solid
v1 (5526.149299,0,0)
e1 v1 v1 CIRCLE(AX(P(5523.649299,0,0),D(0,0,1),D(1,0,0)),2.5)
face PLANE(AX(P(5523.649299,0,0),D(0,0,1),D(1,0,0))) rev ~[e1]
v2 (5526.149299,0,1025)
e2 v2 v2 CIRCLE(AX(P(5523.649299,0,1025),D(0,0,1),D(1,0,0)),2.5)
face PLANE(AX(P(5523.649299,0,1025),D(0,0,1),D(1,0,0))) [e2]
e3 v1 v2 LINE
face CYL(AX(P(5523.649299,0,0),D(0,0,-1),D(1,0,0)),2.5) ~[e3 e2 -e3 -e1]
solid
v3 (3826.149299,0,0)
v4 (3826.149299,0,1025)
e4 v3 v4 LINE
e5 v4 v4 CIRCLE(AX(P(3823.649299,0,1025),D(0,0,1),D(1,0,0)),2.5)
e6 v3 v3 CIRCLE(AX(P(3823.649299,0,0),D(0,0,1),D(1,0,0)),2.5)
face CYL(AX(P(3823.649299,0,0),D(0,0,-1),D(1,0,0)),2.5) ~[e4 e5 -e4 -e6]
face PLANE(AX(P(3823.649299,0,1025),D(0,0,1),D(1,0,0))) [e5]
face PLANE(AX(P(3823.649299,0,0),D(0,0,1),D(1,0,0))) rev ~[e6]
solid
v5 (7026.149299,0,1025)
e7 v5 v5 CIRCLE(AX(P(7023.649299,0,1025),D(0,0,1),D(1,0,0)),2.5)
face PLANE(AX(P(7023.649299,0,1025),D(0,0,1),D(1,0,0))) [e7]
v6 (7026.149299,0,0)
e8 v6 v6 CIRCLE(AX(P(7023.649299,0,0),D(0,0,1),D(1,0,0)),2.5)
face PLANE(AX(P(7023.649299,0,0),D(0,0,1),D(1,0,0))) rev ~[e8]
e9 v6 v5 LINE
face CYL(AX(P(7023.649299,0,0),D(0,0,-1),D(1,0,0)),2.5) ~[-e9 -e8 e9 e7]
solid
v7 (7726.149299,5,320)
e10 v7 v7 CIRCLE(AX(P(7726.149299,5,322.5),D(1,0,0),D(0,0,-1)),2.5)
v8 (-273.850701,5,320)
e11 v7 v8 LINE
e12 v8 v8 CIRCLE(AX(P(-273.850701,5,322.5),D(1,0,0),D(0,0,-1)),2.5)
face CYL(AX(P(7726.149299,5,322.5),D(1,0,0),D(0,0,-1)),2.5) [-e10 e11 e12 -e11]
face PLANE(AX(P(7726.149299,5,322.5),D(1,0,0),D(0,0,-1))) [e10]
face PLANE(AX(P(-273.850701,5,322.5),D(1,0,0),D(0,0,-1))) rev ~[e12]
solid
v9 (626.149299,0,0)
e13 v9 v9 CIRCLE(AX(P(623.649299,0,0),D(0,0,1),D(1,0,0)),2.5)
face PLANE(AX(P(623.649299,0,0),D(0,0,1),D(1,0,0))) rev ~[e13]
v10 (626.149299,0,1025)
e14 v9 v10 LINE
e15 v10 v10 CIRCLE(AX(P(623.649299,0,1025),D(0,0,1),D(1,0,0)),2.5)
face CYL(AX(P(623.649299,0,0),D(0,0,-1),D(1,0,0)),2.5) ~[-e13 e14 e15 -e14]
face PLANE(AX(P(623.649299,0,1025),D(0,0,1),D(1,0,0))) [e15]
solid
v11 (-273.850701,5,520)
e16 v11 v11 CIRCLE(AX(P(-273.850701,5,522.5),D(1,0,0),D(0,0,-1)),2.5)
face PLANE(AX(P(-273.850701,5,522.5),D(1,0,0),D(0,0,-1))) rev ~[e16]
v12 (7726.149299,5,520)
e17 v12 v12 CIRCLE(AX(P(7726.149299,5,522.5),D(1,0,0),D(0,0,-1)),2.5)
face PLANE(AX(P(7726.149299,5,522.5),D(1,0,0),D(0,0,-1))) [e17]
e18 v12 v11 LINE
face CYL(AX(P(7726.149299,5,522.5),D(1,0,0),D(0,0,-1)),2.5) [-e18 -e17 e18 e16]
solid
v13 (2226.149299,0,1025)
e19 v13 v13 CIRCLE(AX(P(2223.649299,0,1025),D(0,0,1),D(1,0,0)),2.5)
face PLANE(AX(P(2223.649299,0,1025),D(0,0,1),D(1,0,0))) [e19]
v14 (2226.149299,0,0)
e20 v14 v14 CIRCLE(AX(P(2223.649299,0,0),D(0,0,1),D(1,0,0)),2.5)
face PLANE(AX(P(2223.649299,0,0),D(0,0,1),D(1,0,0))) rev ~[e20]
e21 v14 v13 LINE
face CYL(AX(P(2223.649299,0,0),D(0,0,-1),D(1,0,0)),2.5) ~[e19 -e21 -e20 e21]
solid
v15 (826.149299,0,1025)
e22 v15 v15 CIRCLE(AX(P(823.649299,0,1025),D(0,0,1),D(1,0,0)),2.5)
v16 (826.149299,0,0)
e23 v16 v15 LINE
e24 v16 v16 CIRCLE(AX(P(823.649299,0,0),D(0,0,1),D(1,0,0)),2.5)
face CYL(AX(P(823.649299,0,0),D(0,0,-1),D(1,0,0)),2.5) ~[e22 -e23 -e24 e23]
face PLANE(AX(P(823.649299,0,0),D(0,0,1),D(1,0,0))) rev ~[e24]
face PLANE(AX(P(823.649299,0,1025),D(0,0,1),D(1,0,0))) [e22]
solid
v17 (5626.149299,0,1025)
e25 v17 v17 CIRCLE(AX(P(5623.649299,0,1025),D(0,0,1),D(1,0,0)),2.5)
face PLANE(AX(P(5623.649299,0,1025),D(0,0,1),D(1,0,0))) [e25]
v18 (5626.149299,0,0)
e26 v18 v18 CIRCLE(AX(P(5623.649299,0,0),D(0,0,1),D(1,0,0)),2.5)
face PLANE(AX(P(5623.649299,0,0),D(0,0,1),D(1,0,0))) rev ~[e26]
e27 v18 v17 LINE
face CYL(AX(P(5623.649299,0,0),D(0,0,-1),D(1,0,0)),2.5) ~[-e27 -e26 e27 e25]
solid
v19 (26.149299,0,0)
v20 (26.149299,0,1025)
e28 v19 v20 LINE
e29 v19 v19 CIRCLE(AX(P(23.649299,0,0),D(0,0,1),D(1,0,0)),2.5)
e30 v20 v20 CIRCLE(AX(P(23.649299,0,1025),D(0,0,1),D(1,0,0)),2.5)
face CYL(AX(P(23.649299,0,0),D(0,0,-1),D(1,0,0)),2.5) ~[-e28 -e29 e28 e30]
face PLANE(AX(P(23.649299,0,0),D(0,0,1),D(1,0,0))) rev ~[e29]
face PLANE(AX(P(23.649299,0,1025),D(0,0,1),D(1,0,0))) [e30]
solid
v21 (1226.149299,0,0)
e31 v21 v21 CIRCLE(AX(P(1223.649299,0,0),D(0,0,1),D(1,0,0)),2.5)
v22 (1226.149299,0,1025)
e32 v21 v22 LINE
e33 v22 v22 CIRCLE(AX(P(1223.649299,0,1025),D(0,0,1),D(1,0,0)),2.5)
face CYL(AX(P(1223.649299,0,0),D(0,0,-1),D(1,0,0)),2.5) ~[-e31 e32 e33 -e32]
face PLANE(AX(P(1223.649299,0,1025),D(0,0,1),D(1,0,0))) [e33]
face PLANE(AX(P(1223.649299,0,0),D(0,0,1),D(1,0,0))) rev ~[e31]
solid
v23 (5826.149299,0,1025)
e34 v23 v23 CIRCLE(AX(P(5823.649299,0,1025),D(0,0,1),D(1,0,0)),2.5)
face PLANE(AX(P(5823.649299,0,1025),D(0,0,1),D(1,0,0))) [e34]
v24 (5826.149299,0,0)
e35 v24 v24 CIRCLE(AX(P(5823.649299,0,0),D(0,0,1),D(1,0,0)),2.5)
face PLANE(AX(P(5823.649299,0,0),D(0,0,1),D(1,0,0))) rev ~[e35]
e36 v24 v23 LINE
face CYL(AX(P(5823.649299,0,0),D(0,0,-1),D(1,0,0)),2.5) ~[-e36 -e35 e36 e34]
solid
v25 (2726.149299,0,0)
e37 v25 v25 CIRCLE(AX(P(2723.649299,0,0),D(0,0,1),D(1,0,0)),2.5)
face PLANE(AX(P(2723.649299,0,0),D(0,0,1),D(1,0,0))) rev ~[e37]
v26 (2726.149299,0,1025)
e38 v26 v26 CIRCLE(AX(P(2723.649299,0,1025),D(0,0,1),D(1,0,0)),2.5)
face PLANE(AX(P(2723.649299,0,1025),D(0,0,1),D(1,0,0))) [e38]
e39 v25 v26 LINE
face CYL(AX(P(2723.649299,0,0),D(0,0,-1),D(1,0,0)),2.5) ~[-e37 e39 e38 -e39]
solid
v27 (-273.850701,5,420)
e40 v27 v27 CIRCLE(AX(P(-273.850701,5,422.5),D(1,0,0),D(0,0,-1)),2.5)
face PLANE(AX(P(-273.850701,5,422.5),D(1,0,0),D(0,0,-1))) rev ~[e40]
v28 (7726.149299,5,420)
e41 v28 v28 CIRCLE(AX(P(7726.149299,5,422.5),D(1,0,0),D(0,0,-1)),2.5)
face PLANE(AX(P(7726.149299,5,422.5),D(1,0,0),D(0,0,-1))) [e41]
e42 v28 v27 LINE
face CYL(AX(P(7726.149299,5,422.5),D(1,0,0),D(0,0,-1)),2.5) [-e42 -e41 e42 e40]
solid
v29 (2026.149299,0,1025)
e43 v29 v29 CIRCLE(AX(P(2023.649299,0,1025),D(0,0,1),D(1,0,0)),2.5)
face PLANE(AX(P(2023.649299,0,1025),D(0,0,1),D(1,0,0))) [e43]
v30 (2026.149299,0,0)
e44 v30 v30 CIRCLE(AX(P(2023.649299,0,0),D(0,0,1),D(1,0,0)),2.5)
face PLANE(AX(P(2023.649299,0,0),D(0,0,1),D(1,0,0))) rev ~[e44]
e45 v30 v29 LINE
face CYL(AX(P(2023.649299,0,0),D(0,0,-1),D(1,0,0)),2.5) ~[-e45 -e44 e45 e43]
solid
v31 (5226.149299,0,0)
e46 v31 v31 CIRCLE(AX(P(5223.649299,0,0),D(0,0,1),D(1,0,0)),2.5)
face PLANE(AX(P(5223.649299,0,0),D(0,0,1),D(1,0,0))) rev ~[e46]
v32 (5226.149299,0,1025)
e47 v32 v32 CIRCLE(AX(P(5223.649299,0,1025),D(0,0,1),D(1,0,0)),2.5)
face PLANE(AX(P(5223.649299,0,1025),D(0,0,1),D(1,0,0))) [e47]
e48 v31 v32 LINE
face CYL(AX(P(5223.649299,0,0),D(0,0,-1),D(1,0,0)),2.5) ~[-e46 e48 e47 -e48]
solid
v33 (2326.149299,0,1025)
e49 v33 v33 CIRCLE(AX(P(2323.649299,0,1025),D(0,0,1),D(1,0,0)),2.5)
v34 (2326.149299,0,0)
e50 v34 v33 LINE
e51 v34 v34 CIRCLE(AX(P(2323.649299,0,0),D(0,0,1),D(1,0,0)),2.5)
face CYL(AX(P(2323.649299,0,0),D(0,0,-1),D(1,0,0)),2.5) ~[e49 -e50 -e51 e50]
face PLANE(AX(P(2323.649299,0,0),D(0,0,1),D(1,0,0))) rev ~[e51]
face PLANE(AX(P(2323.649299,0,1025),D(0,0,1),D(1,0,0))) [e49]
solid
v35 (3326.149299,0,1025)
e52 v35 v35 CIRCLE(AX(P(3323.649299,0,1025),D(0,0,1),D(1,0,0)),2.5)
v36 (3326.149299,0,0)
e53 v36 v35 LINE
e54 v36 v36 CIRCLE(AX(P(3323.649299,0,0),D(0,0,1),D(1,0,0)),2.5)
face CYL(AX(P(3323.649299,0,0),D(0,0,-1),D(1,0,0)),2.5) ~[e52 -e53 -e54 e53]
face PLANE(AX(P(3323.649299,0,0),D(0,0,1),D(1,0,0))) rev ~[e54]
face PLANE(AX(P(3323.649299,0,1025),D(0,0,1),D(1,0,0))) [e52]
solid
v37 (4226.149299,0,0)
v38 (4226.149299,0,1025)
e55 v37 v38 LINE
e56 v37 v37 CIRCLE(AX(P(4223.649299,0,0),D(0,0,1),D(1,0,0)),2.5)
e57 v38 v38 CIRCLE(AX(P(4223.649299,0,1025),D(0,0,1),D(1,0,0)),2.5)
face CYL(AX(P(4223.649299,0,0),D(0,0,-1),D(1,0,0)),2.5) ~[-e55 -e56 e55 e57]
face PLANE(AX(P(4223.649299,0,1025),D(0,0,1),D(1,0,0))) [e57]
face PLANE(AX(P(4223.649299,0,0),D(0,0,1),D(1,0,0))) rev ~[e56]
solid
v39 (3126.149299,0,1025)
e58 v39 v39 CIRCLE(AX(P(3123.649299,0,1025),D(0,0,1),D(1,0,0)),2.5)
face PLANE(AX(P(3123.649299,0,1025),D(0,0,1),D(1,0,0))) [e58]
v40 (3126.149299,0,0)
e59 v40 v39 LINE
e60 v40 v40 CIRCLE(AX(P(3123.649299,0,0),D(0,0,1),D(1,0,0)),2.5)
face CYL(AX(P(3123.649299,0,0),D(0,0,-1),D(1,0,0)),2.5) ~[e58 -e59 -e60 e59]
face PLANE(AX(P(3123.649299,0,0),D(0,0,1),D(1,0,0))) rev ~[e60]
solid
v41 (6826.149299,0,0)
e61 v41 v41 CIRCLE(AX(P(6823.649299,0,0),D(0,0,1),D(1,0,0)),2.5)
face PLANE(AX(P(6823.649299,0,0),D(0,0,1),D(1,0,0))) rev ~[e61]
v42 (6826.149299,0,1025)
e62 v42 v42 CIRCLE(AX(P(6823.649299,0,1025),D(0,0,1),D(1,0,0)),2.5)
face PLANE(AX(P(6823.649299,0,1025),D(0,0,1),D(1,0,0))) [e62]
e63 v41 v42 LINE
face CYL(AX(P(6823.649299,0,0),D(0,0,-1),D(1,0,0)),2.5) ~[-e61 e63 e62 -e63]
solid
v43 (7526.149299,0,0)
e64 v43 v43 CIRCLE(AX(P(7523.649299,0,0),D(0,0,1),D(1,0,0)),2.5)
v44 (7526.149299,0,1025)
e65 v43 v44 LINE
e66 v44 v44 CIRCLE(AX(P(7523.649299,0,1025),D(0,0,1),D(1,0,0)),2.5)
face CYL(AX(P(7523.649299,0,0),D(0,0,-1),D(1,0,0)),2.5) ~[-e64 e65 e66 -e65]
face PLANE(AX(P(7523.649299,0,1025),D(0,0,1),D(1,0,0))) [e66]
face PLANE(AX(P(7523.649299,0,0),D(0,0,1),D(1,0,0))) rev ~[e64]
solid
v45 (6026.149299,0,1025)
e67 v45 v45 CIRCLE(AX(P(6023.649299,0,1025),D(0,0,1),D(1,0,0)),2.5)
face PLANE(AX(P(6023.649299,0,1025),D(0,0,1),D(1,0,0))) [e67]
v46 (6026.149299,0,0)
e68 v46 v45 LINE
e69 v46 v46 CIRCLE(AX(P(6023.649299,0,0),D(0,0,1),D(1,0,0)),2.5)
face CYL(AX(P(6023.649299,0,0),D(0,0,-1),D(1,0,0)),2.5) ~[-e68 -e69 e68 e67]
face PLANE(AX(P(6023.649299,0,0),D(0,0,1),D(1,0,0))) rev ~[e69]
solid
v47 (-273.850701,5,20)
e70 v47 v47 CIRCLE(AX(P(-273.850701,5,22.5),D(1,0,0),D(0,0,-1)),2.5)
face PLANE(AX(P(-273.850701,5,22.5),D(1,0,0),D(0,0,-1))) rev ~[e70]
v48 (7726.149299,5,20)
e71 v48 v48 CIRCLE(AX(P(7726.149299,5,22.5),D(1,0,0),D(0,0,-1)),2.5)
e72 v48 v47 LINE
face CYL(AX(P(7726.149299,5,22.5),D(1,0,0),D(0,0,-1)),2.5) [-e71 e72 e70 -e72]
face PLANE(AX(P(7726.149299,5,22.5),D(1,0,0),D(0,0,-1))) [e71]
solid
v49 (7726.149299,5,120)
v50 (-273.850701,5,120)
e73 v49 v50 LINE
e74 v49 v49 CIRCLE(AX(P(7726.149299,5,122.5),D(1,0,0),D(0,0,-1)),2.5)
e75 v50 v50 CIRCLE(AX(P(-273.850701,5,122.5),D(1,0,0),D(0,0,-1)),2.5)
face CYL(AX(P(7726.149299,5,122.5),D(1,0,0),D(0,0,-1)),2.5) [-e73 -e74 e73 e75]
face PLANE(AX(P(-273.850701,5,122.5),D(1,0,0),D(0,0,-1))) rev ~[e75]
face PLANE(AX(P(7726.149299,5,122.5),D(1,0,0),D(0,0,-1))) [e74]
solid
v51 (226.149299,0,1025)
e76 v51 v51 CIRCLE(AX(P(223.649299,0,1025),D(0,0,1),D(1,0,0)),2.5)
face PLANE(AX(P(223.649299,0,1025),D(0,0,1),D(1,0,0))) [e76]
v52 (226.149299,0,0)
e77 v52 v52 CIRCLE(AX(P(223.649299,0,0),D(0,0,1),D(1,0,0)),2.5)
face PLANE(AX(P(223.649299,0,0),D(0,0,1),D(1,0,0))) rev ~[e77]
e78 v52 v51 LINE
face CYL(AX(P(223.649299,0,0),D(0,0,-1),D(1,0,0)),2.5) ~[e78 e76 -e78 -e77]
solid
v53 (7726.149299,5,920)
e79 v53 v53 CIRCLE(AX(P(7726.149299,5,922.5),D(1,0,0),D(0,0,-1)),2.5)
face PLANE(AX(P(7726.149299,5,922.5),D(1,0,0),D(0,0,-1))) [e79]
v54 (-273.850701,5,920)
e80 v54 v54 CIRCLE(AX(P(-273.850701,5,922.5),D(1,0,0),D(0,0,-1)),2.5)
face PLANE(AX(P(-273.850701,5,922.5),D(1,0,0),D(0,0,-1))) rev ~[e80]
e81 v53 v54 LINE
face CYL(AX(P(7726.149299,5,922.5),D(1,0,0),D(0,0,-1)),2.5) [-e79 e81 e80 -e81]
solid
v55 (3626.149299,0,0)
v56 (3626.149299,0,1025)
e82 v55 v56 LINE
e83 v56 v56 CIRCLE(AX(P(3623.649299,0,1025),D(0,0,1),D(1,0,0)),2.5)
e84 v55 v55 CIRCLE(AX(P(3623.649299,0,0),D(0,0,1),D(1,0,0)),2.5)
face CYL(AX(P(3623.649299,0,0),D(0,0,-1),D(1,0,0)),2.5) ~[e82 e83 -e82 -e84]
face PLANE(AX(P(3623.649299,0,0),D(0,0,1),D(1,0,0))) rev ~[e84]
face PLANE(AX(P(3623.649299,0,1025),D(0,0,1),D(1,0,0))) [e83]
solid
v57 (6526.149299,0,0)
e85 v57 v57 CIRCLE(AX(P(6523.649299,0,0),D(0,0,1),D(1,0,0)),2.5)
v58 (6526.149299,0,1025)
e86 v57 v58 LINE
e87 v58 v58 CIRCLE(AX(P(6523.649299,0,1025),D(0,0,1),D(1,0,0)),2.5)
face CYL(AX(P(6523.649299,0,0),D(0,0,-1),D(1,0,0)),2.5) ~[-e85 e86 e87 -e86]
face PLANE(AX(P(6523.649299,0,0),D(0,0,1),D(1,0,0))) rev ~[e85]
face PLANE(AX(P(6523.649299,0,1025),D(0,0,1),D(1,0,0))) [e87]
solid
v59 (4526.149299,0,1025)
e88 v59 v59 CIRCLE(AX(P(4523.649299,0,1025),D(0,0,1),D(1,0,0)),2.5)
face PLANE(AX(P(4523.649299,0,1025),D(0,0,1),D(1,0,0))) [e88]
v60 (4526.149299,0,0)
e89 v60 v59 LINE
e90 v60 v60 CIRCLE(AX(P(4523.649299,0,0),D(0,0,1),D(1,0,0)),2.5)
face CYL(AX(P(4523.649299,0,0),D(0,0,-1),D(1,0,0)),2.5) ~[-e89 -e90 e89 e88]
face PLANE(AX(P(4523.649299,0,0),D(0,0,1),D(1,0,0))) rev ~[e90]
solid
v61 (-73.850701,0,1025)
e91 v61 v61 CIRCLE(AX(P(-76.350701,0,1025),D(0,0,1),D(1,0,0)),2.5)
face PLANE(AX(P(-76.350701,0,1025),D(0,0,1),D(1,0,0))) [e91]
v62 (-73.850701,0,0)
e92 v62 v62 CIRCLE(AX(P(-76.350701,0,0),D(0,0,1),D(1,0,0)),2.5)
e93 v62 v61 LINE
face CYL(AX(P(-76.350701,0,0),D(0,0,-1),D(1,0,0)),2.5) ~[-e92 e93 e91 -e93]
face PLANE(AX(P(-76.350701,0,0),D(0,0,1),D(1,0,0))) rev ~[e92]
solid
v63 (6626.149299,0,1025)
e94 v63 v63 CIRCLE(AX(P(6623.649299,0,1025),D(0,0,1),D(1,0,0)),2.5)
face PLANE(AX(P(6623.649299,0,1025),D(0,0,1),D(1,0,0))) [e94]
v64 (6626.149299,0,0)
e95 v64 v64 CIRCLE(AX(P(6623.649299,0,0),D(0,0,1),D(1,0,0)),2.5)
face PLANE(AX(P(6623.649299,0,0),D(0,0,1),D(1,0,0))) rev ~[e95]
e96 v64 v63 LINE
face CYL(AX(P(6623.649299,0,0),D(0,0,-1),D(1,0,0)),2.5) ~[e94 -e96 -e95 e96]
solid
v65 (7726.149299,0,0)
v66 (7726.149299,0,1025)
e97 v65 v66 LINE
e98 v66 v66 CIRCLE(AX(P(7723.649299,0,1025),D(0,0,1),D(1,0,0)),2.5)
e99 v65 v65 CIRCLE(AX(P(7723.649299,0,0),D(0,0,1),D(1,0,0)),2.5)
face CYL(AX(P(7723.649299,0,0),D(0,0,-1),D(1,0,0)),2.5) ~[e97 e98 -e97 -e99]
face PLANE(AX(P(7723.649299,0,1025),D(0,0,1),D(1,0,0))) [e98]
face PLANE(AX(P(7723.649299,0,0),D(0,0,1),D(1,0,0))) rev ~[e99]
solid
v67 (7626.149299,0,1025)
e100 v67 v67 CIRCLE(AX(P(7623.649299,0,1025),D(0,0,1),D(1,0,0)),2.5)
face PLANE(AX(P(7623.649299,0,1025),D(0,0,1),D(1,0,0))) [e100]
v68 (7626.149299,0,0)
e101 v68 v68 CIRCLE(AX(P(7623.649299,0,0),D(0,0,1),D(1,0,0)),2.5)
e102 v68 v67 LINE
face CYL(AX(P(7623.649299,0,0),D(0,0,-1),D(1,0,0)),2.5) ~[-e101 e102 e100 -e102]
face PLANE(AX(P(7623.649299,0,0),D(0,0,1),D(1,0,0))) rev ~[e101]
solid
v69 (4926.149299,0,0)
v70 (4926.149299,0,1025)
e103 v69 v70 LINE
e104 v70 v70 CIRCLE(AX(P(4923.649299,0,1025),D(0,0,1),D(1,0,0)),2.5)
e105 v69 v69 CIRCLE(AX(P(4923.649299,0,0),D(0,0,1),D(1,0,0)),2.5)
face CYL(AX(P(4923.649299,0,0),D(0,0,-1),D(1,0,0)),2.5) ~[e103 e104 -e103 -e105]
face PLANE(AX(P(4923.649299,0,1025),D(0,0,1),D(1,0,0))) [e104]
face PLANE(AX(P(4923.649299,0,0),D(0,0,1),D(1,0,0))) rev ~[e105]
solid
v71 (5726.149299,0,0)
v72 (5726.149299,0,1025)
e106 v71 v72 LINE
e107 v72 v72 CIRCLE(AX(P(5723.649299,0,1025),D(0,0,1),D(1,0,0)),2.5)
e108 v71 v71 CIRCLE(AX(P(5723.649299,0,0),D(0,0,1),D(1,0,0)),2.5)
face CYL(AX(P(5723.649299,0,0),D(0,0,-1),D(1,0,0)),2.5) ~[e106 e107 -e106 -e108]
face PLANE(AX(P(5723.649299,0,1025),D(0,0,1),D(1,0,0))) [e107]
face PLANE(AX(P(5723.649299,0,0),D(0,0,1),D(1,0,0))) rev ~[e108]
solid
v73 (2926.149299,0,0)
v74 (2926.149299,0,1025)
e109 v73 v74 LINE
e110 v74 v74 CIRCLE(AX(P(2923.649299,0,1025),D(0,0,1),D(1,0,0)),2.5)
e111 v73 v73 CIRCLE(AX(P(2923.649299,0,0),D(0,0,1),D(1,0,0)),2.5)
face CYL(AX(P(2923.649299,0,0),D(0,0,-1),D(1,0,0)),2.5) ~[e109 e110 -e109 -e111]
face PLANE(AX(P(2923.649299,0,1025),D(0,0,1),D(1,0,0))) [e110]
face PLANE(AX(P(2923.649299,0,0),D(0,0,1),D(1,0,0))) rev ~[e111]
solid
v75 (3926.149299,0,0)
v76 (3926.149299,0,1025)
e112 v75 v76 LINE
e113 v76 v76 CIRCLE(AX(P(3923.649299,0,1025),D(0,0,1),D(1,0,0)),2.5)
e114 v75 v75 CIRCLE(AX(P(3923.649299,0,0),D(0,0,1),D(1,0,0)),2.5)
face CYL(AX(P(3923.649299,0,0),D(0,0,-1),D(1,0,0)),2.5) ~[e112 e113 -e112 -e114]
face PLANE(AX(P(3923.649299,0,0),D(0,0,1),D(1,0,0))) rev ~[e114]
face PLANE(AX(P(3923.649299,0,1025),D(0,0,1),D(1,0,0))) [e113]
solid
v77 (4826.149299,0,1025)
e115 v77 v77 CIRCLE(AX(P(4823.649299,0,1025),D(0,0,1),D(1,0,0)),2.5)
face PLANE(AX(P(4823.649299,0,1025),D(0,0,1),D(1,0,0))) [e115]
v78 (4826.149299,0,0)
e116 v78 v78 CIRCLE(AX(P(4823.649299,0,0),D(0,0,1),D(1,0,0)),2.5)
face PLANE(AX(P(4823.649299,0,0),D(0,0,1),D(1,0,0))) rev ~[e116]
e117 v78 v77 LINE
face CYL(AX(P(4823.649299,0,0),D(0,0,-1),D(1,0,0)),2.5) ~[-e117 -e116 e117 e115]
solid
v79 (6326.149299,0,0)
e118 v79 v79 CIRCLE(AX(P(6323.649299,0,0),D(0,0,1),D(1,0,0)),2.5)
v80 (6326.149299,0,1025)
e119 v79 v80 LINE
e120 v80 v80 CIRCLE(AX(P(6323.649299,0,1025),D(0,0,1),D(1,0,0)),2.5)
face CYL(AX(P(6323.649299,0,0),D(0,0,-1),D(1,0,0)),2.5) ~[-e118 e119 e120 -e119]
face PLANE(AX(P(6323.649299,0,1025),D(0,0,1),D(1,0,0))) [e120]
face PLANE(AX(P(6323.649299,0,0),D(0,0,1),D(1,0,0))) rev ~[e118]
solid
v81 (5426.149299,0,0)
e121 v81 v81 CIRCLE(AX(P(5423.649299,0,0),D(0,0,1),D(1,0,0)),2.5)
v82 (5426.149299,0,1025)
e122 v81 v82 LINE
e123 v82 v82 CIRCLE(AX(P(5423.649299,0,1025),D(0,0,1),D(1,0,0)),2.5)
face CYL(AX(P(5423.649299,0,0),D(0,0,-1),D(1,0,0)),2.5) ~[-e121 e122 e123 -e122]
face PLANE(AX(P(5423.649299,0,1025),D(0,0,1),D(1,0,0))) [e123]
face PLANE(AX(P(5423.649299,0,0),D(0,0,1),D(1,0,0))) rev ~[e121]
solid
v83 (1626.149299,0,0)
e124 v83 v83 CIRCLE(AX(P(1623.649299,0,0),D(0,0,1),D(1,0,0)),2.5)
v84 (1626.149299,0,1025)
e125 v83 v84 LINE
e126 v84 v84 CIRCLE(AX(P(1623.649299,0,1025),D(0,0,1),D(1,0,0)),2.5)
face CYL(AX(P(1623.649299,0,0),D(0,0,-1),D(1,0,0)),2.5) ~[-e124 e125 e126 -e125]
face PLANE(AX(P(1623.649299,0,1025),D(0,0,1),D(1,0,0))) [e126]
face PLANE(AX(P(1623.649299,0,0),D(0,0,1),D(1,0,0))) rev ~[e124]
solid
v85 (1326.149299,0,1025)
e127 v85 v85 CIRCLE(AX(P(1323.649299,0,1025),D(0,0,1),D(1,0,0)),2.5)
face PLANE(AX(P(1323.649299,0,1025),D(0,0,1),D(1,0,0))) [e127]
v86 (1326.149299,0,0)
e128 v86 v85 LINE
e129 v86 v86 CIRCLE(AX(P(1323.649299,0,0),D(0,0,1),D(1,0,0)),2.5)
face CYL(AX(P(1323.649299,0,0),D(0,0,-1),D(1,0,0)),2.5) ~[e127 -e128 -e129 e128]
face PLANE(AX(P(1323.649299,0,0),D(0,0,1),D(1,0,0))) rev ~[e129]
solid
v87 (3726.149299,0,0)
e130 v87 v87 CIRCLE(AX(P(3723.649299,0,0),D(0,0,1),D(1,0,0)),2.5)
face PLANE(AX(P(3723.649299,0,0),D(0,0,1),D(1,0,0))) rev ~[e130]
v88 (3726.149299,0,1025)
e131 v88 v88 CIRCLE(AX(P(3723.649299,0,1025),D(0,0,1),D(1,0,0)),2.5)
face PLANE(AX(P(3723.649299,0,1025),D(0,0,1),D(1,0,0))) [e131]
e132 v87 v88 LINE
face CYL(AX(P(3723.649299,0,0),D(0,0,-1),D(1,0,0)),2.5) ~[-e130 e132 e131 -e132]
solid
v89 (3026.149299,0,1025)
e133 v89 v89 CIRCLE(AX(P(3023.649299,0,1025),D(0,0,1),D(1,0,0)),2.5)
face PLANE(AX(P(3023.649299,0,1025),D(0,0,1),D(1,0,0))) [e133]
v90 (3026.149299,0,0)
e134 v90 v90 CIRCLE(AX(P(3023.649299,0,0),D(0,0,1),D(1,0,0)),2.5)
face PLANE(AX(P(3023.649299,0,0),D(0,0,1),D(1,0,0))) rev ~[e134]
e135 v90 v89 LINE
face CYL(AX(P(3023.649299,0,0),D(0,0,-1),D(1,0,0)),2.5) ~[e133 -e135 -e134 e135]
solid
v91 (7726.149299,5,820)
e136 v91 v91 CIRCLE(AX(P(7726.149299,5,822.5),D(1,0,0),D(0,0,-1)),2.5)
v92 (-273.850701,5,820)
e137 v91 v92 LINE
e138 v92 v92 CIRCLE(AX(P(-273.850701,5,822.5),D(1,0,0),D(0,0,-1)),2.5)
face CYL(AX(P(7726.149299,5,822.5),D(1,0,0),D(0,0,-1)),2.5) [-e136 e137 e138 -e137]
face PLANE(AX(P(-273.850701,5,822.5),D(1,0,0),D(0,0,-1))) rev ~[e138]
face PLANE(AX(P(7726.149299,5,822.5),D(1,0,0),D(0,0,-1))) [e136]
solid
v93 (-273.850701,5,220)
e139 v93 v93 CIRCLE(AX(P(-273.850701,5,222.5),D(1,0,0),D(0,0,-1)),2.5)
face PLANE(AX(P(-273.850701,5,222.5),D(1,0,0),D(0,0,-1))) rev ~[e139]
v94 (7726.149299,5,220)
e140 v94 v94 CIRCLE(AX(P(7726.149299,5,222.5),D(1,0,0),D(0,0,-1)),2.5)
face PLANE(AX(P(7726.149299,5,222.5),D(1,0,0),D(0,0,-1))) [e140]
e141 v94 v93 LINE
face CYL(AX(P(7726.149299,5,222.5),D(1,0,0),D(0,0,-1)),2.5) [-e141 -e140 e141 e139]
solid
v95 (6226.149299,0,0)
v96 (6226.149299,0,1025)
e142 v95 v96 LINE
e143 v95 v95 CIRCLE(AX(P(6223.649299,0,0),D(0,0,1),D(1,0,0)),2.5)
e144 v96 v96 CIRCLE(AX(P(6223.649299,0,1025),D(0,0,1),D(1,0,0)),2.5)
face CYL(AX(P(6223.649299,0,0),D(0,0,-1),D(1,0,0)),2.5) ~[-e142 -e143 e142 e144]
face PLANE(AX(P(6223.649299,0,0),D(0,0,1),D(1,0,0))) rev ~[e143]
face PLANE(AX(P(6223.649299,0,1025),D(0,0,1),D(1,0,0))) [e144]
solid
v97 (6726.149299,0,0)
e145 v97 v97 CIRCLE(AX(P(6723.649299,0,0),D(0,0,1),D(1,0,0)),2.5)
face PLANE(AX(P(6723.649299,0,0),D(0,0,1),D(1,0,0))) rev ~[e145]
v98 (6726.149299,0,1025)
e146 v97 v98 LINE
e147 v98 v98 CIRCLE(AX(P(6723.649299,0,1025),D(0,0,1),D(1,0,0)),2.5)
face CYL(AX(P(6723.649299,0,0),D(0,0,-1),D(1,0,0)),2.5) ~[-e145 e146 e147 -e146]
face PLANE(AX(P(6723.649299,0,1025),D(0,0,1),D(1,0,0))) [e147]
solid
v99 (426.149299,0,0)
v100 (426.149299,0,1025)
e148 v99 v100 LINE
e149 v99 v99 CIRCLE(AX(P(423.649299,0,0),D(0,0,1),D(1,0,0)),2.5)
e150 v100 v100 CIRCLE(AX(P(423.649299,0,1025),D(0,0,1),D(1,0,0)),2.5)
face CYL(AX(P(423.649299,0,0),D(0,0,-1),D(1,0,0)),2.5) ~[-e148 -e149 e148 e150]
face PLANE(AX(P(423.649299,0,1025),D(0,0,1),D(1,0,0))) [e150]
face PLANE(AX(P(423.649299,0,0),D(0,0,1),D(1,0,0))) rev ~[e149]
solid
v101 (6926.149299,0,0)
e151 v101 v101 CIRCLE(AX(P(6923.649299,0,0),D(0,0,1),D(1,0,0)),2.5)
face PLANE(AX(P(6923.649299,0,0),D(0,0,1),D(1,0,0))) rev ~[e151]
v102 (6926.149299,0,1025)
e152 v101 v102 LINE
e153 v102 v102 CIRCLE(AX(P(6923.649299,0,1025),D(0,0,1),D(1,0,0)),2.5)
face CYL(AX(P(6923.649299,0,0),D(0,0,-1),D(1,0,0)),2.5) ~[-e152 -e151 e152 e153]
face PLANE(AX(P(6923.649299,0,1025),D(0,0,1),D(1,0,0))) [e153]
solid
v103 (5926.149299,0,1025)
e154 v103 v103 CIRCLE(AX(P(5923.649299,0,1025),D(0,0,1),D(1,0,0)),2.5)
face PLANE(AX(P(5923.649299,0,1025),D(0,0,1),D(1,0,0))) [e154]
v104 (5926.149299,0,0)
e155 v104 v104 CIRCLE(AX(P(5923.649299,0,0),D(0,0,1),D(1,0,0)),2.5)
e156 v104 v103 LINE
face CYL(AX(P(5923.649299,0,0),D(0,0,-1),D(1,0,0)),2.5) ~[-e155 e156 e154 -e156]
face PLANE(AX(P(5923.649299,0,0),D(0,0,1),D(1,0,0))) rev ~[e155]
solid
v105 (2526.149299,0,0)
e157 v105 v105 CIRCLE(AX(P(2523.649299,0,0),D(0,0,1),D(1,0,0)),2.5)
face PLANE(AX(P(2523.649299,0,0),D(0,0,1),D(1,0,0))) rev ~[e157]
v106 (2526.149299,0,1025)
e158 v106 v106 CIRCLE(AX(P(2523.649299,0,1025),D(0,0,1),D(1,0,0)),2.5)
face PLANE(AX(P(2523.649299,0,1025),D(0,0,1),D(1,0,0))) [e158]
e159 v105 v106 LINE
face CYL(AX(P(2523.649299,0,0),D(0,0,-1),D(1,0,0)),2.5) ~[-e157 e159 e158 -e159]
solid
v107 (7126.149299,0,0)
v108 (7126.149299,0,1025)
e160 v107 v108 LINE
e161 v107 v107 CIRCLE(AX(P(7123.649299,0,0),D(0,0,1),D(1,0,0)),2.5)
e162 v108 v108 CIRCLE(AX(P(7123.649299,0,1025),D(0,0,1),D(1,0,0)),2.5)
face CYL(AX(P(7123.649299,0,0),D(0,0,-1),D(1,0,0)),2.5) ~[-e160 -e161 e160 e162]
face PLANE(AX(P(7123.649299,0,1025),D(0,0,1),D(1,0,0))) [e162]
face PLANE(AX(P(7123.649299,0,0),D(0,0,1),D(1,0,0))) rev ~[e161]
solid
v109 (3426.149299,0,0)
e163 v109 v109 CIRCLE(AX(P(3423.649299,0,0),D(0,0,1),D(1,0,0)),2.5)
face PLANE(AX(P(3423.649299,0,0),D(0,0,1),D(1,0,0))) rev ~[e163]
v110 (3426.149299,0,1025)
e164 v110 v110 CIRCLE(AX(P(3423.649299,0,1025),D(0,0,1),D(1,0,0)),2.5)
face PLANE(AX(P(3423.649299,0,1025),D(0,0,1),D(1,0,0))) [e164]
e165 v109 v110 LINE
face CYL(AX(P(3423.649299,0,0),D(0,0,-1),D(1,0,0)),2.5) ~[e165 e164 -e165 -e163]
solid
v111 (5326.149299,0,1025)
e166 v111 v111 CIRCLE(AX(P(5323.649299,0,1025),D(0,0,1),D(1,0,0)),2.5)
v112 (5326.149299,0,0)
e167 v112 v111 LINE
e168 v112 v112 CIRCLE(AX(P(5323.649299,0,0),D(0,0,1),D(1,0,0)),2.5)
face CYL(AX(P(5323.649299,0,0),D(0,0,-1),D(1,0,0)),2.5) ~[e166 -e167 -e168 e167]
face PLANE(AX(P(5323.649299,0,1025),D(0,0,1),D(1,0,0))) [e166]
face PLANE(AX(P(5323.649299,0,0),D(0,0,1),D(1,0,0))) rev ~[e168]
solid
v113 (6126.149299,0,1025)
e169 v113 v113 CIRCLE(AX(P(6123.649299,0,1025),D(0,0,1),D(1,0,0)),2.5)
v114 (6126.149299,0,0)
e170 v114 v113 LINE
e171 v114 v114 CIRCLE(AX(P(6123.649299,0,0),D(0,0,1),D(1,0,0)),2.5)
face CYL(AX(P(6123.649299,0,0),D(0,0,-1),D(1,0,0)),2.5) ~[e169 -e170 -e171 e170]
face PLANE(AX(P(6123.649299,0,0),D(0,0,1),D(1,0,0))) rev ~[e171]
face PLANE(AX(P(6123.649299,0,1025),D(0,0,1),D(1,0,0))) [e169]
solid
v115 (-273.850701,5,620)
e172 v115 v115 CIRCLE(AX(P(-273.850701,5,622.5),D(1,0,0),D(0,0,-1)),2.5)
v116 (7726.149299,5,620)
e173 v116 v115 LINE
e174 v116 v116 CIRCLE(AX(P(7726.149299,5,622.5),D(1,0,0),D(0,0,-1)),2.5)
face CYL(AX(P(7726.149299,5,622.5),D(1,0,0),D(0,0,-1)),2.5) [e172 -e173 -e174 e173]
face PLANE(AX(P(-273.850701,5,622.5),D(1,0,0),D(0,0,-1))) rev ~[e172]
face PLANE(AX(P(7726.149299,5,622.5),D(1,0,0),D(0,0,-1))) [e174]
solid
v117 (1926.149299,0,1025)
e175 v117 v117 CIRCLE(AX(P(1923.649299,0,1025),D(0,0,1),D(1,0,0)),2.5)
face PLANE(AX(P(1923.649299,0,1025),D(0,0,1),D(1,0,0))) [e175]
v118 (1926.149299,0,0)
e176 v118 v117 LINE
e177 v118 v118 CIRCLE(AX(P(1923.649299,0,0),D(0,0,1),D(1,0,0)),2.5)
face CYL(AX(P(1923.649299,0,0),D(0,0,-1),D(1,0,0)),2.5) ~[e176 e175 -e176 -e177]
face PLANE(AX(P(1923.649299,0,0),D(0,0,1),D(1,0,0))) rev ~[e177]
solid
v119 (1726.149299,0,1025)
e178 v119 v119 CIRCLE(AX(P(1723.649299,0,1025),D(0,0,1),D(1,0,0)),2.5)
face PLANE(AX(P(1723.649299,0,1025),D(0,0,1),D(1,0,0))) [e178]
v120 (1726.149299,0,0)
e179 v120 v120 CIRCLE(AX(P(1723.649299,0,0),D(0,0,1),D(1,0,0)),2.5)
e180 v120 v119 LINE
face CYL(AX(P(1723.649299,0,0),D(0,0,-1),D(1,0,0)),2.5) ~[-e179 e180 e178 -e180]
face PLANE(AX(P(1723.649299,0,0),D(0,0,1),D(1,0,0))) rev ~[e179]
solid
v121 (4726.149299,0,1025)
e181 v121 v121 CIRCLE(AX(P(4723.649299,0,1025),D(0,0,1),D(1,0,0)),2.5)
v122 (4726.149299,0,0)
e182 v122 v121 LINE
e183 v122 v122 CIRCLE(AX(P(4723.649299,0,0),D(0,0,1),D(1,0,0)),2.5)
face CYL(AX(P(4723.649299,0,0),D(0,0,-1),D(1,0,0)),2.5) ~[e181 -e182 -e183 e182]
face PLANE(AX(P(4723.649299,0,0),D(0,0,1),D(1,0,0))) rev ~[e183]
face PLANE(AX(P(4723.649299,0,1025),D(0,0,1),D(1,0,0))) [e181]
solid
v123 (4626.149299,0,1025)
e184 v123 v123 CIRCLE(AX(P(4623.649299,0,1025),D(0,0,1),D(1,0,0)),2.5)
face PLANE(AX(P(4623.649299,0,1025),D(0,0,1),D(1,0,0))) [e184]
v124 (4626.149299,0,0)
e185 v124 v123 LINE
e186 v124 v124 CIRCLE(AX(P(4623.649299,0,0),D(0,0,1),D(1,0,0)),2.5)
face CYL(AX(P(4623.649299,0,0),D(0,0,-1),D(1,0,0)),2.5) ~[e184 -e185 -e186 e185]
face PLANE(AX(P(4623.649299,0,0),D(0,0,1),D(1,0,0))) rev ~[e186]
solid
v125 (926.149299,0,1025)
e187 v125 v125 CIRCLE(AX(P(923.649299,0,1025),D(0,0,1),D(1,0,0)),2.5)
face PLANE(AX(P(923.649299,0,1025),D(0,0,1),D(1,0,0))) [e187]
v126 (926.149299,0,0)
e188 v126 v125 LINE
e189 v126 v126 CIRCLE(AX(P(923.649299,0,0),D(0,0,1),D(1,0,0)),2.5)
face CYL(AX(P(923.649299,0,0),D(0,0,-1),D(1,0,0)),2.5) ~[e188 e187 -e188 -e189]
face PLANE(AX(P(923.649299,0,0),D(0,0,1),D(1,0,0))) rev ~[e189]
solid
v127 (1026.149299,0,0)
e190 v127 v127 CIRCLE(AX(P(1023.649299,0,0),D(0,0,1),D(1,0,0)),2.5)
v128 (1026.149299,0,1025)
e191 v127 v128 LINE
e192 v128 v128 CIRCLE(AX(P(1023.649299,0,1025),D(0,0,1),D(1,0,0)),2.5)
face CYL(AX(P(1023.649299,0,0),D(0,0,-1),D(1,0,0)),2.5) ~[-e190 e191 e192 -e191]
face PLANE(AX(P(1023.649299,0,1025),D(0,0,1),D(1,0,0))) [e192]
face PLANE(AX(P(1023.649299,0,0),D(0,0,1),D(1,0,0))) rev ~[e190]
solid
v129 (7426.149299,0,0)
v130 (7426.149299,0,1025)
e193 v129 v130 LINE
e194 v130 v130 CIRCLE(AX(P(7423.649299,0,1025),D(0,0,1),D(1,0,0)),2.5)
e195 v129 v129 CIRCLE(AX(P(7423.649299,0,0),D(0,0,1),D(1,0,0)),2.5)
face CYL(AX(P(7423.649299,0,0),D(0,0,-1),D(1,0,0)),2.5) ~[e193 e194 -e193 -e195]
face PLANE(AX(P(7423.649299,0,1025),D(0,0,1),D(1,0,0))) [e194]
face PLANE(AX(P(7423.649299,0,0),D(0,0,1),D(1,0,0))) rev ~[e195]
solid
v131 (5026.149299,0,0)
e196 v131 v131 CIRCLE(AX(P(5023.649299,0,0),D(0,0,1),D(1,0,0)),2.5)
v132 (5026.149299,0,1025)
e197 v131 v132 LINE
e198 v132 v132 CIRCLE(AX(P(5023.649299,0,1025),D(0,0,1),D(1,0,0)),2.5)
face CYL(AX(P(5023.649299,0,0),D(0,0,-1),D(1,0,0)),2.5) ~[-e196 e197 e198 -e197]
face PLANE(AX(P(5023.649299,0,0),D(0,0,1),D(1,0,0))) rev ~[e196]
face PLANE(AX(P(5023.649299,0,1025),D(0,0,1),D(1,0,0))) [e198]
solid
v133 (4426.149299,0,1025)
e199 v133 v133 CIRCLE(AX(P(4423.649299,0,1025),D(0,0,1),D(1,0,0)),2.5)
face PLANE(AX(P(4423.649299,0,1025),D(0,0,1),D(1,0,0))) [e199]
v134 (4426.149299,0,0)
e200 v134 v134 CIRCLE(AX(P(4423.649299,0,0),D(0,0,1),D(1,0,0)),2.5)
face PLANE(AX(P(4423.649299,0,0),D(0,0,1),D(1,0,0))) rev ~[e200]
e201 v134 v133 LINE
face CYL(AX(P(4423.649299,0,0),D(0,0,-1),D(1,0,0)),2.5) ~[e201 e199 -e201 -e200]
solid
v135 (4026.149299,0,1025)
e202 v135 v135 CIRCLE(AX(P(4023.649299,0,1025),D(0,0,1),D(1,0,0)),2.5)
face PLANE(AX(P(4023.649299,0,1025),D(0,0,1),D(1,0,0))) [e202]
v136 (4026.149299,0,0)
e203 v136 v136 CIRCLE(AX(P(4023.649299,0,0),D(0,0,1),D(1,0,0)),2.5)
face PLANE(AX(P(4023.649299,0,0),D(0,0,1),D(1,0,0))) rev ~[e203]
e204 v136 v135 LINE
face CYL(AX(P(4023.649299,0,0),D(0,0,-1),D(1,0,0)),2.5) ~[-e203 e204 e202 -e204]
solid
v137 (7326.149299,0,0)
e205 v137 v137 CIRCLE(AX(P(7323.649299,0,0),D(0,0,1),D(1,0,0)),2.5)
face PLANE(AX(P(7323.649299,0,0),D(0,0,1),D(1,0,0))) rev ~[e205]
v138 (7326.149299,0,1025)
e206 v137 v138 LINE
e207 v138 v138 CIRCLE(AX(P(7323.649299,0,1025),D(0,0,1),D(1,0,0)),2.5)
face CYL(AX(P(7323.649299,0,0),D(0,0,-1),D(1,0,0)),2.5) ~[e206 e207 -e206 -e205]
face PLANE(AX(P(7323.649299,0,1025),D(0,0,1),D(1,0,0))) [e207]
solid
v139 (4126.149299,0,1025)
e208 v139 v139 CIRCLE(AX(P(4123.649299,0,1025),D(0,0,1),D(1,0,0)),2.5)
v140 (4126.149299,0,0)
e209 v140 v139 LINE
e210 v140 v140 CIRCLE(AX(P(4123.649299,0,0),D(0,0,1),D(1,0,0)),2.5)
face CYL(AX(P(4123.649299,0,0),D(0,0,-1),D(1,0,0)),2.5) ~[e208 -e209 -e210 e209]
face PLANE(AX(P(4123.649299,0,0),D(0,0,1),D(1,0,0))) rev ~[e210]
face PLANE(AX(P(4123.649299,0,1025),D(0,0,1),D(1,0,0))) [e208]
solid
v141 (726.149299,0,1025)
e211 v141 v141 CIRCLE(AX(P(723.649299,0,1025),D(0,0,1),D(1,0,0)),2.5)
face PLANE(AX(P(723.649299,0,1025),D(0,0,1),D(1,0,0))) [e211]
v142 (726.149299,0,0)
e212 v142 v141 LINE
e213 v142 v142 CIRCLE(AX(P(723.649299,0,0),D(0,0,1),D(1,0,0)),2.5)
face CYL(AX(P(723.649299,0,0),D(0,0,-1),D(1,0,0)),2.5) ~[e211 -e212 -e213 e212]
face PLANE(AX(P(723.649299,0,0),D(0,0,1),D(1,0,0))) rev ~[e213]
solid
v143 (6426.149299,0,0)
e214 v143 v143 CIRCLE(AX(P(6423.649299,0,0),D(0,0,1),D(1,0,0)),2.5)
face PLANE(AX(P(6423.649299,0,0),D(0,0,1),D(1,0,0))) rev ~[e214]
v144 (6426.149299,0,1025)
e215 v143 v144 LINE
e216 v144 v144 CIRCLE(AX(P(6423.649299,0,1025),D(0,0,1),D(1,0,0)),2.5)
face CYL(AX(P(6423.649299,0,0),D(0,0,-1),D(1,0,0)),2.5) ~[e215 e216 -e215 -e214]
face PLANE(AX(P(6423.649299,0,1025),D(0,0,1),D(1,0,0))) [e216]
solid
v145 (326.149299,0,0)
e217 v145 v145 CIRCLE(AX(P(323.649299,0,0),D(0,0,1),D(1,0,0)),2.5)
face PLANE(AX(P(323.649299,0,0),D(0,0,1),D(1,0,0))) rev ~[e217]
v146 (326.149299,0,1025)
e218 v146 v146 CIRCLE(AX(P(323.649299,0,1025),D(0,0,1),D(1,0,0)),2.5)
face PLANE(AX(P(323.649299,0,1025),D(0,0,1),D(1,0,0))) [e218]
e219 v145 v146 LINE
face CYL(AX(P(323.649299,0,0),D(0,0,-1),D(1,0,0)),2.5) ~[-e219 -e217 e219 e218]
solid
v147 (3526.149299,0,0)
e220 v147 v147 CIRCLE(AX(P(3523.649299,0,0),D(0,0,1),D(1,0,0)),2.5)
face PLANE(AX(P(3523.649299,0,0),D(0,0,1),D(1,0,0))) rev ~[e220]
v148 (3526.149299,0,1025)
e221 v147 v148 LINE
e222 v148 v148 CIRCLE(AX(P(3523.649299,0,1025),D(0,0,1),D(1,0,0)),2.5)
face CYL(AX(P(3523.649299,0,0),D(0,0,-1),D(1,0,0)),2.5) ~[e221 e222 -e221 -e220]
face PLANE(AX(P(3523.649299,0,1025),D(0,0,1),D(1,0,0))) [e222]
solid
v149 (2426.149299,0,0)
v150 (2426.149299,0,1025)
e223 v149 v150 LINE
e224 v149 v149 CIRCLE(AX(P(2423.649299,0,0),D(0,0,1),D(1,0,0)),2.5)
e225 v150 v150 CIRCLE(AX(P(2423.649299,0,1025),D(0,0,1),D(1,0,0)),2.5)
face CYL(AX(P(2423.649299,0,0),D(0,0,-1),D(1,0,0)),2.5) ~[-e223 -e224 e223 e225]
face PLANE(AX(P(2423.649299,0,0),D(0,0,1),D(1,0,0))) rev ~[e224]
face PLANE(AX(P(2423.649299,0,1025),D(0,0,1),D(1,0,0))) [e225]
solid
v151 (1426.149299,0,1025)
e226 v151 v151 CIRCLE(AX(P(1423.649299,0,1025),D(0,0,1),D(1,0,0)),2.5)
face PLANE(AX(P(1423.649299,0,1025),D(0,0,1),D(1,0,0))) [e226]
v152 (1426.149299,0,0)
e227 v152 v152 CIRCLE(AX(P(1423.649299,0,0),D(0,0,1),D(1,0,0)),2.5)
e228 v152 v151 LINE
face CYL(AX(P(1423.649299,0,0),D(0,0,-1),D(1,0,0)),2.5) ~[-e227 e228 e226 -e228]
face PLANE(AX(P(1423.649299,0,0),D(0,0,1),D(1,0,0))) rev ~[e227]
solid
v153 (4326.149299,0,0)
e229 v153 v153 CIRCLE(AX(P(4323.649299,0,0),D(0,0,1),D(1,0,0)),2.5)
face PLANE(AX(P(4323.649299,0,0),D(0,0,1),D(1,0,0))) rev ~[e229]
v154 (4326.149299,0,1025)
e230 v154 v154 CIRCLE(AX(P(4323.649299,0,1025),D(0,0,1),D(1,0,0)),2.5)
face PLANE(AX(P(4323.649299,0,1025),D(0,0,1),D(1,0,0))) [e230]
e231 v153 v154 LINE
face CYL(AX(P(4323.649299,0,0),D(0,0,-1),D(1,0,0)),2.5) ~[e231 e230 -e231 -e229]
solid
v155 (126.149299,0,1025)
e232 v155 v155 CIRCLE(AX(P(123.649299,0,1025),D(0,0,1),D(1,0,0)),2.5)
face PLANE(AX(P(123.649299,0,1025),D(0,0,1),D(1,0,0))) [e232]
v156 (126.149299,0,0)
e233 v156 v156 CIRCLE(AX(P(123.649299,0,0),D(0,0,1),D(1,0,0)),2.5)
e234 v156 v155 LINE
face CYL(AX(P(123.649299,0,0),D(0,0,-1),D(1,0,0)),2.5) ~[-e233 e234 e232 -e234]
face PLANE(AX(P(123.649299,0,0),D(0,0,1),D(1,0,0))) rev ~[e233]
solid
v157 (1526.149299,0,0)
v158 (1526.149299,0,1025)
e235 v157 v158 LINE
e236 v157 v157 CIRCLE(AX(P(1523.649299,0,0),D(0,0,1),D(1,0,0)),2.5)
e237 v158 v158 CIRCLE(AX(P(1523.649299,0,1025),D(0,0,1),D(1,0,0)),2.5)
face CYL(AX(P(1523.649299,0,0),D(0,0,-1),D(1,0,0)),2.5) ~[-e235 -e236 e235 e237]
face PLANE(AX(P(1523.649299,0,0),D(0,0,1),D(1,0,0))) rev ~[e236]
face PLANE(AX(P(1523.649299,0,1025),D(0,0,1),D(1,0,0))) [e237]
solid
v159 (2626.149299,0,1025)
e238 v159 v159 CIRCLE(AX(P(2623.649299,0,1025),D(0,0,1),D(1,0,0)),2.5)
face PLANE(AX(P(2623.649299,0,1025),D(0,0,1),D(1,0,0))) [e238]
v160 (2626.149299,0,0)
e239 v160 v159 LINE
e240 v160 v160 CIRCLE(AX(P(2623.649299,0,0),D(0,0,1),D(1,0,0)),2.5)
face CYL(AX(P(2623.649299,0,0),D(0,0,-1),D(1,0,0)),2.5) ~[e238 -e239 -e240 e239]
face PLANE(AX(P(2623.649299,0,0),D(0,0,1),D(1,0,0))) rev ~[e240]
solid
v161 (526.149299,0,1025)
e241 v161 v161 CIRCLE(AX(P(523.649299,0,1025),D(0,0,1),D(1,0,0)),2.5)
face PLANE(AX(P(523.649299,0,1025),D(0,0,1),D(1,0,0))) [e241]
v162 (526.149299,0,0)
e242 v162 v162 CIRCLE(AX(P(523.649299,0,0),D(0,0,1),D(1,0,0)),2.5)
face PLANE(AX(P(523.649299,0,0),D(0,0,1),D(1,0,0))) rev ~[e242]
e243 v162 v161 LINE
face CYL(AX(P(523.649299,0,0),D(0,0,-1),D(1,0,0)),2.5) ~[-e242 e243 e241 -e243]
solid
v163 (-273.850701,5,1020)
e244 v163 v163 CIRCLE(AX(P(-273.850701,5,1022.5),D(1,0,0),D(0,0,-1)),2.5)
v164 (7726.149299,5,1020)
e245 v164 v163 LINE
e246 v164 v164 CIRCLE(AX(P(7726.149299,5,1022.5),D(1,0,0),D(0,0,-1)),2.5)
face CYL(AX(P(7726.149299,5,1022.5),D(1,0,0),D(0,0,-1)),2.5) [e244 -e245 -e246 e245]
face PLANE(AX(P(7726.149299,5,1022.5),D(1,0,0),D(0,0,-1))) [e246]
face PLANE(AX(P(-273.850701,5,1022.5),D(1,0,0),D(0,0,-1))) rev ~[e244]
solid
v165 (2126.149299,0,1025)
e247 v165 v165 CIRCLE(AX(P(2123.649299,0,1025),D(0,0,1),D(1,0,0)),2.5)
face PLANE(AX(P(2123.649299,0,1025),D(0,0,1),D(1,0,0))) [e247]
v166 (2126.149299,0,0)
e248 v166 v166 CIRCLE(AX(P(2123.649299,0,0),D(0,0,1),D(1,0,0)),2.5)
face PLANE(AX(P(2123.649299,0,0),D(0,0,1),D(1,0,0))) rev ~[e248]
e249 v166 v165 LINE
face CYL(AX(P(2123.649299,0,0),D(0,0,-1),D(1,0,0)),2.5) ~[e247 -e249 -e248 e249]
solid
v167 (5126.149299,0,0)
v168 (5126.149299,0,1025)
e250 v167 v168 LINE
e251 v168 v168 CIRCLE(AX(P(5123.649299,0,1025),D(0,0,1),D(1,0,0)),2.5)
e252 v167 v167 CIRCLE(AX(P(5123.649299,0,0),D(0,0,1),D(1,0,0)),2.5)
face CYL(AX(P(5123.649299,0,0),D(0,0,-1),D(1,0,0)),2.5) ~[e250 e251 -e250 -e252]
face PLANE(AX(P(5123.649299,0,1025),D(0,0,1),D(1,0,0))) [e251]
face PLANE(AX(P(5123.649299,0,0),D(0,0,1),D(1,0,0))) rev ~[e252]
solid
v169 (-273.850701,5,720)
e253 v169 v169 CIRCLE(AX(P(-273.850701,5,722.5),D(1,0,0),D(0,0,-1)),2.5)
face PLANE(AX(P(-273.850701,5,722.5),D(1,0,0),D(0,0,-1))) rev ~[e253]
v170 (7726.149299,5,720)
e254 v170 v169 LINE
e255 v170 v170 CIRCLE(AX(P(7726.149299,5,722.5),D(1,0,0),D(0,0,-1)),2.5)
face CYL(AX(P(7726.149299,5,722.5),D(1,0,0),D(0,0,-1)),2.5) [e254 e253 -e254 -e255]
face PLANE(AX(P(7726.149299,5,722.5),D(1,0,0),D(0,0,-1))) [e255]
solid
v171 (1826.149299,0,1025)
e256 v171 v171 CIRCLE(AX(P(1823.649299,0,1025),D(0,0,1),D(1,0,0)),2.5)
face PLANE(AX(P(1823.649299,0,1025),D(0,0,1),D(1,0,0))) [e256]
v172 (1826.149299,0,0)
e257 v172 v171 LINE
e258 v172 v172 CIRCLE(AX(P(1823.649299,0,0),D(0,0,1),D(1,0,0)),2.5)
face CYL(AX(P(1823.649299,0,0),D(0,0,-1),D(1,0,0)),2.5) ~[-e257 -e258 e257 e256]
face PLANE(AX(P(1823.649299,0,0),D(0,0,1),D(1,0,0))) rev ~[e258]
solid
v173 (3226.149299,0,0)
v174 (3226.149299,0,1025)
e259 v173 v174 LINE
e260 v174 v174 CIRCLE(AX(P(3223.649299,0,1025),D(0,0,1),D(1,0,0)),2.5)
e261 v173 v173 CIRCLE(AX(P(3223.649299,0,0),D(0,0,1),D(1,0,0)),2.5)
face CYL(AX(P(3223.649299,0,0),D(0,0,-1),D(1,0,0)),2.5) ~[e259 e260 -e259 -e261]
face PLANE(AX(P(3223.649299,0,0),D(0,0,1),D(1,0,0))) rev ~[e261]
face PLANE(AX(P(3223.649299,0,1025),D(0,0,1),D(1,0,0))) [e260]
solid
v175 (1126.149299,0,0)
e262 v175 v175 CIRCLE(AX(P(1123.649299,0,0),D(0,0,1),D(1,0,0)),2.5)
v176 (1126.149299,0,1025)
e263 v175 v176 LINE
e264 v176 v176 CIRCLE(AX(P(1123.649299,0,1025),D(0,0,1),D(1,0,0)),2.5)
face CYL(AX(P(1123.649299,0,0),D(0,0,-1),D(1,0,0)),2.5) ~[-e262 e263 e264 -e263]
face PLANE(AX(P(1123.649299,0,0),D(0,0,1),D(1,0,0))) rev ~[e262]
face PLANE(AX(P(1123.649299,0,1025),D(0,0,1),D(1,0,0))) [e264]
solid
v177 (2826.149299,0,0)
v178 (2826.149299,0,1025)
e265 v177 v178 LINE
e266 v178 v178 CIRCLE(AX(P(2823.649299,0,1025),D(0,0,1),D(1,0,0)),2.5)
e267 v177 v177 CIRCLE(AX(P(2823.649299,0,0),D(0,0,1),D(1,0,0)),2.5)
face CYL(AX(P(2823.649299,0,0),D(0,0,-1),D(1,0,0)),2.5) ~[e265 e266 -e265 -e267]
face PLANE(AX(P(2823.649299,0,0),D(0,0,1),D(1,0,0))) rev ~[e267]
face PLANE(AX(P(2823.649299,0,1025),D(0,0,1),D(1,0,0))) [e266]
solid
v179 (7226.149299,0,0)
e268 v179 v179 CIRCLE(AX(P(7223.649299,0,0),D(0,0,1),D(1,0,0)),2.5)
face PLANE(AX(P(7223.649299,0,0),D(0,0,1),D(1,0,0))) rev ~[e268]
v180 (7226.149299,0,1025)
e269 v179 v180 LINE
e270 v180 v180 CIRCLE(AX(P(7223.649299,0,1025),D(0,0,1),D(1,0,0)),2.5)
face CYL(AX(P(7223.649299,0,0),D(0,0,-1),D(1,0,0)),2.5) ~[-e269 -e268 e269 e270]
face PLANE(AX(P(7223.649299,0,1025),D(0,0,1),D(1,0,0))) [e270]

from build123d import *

# Parameters (mm, degrees)
SKETCH1_R              = 2.5
BOSS_EXTRUDE1_DEPTH    = 1025
SKETCH2_R              = 2.5
BOSS_EXTRUDE2_DEPTH    = 8000
BOSS_EXTRUDE2_2_DEPTH  = 8000
BOSS_EXTRUDE2_3_DEPTH  = 8000
BOSS_EXTRUDE2_4_DEPTH  = 8000
BOSS_EXTRUDE2_5_DEPTH  = 8000
BOSS_EXTRUDE2_6_DEPTH  = 8000
BOSS_EXTRUDE2_7_DEPTH  = 8000
BOSS_EXTRUDE2_8_DEPTH  = 8000
BOSS_EXTRUDE2_9_DEPTH  = 8000
BOSS_EXTRUDE2_10_DEPTH = 8000
BOSS_EXTRUDE2_11_DEPTH = 8000


with BuildPart() as part:
    # Sketch1 → Boss-Extrude1 (new body)
    with BuildSketch(Plane.XY):
        with Locations((-76.350701064, 0)):
            Circle(SKETCH1_R)
        with Locations((23.649298936, 0)):
            Circle(SKETCH1_R)
        with Locations((123.649298936, 0)):
            Circle(SKETCH1_R)
        with Locations((223.649298936, 0)):
            Circle(SKETCH1_R)
        with Locations((323.649298936, 0)):
            Circle(SKETCH1_R)
        with Locations((423.649298936, 0)):
            Circle(SKETCH1_R)
        with Locations((523.649298936, 0)):
            Circle(SKETCH1_R)
        with Locations((623.649298936, 0)):
            Circle(SKETCH1_R)
        with Locations((723.649298936, 0)):
            Circle(SKETCH1_R)
        with Locations((823.649298936, 0)):
            Circle(SKETCH1_R)
        with Locations((923.649298936, 0)):
            Circle(SKETCH1_R)
        with Locations((1023.649298936, 0)):
            Circle(SKETCH1_R)
        with Locations((1123.649298936, 0)):
            Circle(SKETCH1_R)
        with Locations((1223.649298936, 0)):
            Circle(SKETCH1_R)
        with Locations((1323.649298936, 0)):
            Circle(SKETCH1_R)
        with Locations((1423.649298936, 0)):
            Circle(SKETCH1_R)
        with Locations((1523.649298936, 0)):
            Circle(SKETCH1_R)
        with Locations((1623.649298936, 0)):
            Circle(SKETCH1_R)
        with Locations((1723.649298936, 0)):
            Circle(SKETCH1_R)
        with Locations((1823.649298936, 0)):
            Circle(SKETCH1_R)
        with Locations((1923.649298936, 0)):
            Circle(SKETCH1_R)
        with Locations((2023.649298936, 0)):
            Circle(SKETCH1_R)
        with Locations((2123.649298936, 0)):
            Circle(SKETCH1_R)
        with Locations((2223.649298936, 0)):
            Circle(SKETCH1_R)
        with Locations((2323.649298936, 0)):
            Circle(SKETCH1_R)
        with Locations((2423.649298936, 0)):
            Circle(SKETCH1_R)
        with Locations((2523.649298936, 0)):
            Circle(SKETCH1_R)
        with Locations((2623.649298936, 0)):
            Circle(SKETCH1_R)
        with Locations((2723.649298936, 0)):
            Circle(SKETCH1_R)
        with Locations((2823.649298936, 0)):
            Circle(SKETCH1_R)
        with Locations((2923.649298936, 0)):
            Circle(SKETCH1_R)
        with Locations((3023.649298936, 0)):
            Circle(SKETCH1_R)
        with Locations((3123.649298936, 0)):
            Circle(SKETCH1_R)
        with Locations((3223.649298936, 0)):
            Circle(SKETCH1_R)
        with Locations((3323.649298936, 0)):
            Circle(SKETCH1_R)
        with Locations((3423.649298936, 0)):
            Circle(SKETCH1_R)
        with Locations((3523.649298936, 0)):
            Circle(SKETCH1_R)
        with Locations((3623.649298936, 0)):
            Circle(SKETCH1_R)
        with Locations((3723.649298936, 0)):
            Circle(SKETCH1_R)
        with Locations((3823.649298936, 0)):
            Circle(SKETCH1_R)
        with Locations((3923.649298936, 0)):
            Circle(SKETCH1_R)
        with Locations((4023.649298936, 0)):
            Circle(SKETCH1_R)
        with Locations((4123.649298936, 0)):
            Circle(SKETCH1_R)
        with Locations((4223.649298936, 0)):
            Circle(SKETCH1_R)
        with Locations((4323.649298936, 0)):
            Circle(SKETCH1_R)
        with Locations((4423.649298936, 0)):
            Circle(SKETCH1_R)
        with Locations((4523.649298936, 0)):
            Circle(SKETCH1_R)
        with Locations((4623.649298936, 0)):
            Circle(SKETCH1_R)
        with Locations((4723.649298936, 0)):
            Circle(SKETCH1_R)
        with Locations((4823.649298936, 0)):
            Circle(SKETCH1_R)
        with Locations((4923.649298936, 0)):
            Circle(SKETCH1_R)
        with Locations((5023.649298936, 0)):
            Circle(SKETCH1_R)
        with Locations((5123.649298936, 0)):
            Circle(SKETCH1_R)
        with Locations((5223.649298936, 0)):
            Circle(SKETCH1_R)
        with Locations((5323.649298936, 0)):
            Circle(SKETCH1_R)
        with Locations((5423.649298936, 0)):
            Circle(SKETCH1_R)
        with Locations((5523.649298936, 0)):
            Circle(SKETCH1_R)
        with Locations((5623.649298936, 0)):
            Circle(SKETCH1_R)
        with Locations((5723.649298936, 0)):
            Circle(SKETCH1_R)
        with Locations((5823.649298936, 0)):
            Circle(SKETCH1_R)
        with Locations((5923.649298936, 0)):
            Circle(SKETCH1_R)
        with Locations((6023.649298936, 0)):
            Circle(SKETCH1_R)
        with Locations((6123.649298936, 0)):
            Circle(SKETCH1_R)
        with Locations((6223.649298936, 0)):
            Circle(SKETCH1_R)
        with Locations((6323.649298936, 0)):
            Circle(SKETCH1_R)
        with Locations((6423.649298936, 0)):
            Circle(SKETCH1_R)
        with Locations((6523.649298936, 0)):
            Circle(SKETCH1_R)
        with Locations((6623.649298936, 0)):
            Circle(SKETCH1_R)
        with Locations((6723.649298936, 0)):
            Circle(SKETCH1_R)
        with Locations((6823.649298936, 0)):
            Circle(SKETCH1_R)
        with Locations((6923.649298936, 0)):
            Circle(SKETCH1_R)
        with Locations((7023.649298936, 0)):
            Circle(SKETCH1_R)
        with Locations((7123.649298936, 0)):
            Circle(SKETCH1_R)
        with Locations((7223.649298936, 0)):
            Circle(SKETCH1_R)
        with Locations((7323.649298936, 0)):
            Circle(SKETCH1_R)
        with Locations((7423.649298936, 0)):
            Circle(SKETCH1_R)
        with Locations((7523.649298936, 0)):
            Circle(SKETCH1_R)
        with Locations((7623.649298936, 0)):
            Circle(SKETCH1_R)
        with Locations((7723.649298936, 0)):
            Circle(SKETCH1_R)
    extrude(amount=BOSS_EXTRUDE1_DEPTH)


with BuildPart() as body_2:
    # Sketch2 → Boss-Extrude2 (new body)
    with BuildSketch(Plane(origin=(7726.149298936, 0, 0), x_dir=(0, 0, -1), z_dir=(1, 0, 0))):
        with Locations((-1022.5, 5)):
            Circle(SKETCH2_R)
    extrude(amount=-BOSS_EXTRUDE2_DEPTH)


with BuildPart() as body_3:
    # Sketch2 → Boss-Extrude2 2 (new body)
    with BuildSketch(Plane(origin=(7726.149298936, 0, 0), x_dir=(0, 0, -1), z_dir=(1, 0, 0))):
        with Locations((-922.5, 5)):
            Circle(SKETCH2_R)
    extrude(amount=-BOSS_EXTRUDE2_2_DEPTH)


with BuildPart() as body_4:
    # Sketch2 → Boss-Extrude2 3 (new body)
    with BuildSketch(Plane(origin=(7726.149298936, 0, 0), x_dir=(0, 0, -1), z_dir=(1, 0, 0))):
        with Locations((-822.5, 5)):
            Circle(SKETCH2_R)
    extrude(amount=-BOSS_EXTRUDE2_3_DEPTH)


with BuildPart() as body_5:
    # Sketch2 → Boss-Extrude2 4 (new body)
    with BuildSketch(Plane(origin=(7726.149298936, 0, 0), x_dir=(0, 0, -1), z_dir=(1, 0, 0))):
        with Locations((-722.5, 5)):
            Circle(SKETCH2_R)
    extrude(amount=-BOSS_EXTRUDE2_4_DEPTH)


with BuildPart() as body_6:
    # Sketch2 → Boss-Extrude2 5 (new body)
    with BuildSketch(Plane(origin=(7726.149298936, 0, 0), x_dir=(0, 0, -1), z_dir=(1, 0, 0))):
        with Locations((-622.5, 5)):
            Circle(SKETCH2_R)
    extrude(amount=-BOSS_EXTRUDE2_5_DEPTH)


with BuildPart() as body_7:
    # Sketch2 → Boss-Extrude2 6 (new body)
    with BuildSketch(Plane(origin=(7726.149298936, 0, 0), x_dir=(0, 0, -1), z_dir=(1, 0, 0))):
        with Locations((-522.5, 5)):
            Circle(SKETCH2_R)
    extrude(amount=-BOSS_EXTRUDE2_6_DEPTH)


with BuildPart() as body_8:
    # Sketch2 → Boss-Extrude2 7 (new body)
    with BuildSketch(Plane(origin=(7726.149298936, 0, 0), x_dir=(0, 0, -1), z_dir=(1, 0, 0))):
        with Locations((-422.5, 5)):
            Circle(SKETCH2_R)
    extrude(amount=-BOSS_EXTRUDE2_7_DEPTH)


with BuildPart() as body_9:
    # Sketch2 → Boss-Extrude2 8 (new body)
    with BuildSketch(Plane(origin=(7726.149298936, 0, 0), x_dir=(0, 0, -1), z_dir=(1, 0, 0))):
        with Locations((-322.5, 5)):
            Circle(SKETCH2_R)
    extrude(amount=-BOSS_EXTRUDE2_8_DEPTH)


with BuildPart() as body_10:
    # Sketch2 → Boss-Extrude2 9 (new body)
    with BuildSketch(Plane(origin=(7726.149298936, 0, 0), x_dir=(0, 0, -1), z_dir=(1, 0, 0))):
        with Locations((-222.5, 5)):
            Circle(SKETCH2_R)
    extrude(amount=-BOSS_EXTRUDE2_9_DEPTH)


with BuildPart() as body_11:
    # Sketch2 → Boss-Extrude2 10 (new body)
    with BuildSketch(Plane(origin=(7726.149298936, 0, 0), x_dir=(0, 0, -1), z_dir=(1, 0, 0))):
        with Locations((-122.5, 5)):
            Circle(SKETCH2_R)
    extrude(amount=-BOSS_EXTRUDE2_10_DEPTH)


with BuildPart() as body_12:
    # Sketch2 → Boss-Extrude2 11 (new body)
    with BuildSketch(Plane(origin=(7726.149298936, 0, 0), x_dir=(0, 0, -1), z_dir=(1, 0, 0))):
        with Locations((-22.5, 5)):
            Circle(SKETCH2_R)
    extrude(amount=-BOSS_EXTRUDE2_11_DEPTH)


solid = Compound([part.part, body_2.part, body_3.part, body_4.part, body_5.part, body_6.part, body_7.part, body_8.part, body_9.part, body_10.part, body_11.part, body_12.part])
